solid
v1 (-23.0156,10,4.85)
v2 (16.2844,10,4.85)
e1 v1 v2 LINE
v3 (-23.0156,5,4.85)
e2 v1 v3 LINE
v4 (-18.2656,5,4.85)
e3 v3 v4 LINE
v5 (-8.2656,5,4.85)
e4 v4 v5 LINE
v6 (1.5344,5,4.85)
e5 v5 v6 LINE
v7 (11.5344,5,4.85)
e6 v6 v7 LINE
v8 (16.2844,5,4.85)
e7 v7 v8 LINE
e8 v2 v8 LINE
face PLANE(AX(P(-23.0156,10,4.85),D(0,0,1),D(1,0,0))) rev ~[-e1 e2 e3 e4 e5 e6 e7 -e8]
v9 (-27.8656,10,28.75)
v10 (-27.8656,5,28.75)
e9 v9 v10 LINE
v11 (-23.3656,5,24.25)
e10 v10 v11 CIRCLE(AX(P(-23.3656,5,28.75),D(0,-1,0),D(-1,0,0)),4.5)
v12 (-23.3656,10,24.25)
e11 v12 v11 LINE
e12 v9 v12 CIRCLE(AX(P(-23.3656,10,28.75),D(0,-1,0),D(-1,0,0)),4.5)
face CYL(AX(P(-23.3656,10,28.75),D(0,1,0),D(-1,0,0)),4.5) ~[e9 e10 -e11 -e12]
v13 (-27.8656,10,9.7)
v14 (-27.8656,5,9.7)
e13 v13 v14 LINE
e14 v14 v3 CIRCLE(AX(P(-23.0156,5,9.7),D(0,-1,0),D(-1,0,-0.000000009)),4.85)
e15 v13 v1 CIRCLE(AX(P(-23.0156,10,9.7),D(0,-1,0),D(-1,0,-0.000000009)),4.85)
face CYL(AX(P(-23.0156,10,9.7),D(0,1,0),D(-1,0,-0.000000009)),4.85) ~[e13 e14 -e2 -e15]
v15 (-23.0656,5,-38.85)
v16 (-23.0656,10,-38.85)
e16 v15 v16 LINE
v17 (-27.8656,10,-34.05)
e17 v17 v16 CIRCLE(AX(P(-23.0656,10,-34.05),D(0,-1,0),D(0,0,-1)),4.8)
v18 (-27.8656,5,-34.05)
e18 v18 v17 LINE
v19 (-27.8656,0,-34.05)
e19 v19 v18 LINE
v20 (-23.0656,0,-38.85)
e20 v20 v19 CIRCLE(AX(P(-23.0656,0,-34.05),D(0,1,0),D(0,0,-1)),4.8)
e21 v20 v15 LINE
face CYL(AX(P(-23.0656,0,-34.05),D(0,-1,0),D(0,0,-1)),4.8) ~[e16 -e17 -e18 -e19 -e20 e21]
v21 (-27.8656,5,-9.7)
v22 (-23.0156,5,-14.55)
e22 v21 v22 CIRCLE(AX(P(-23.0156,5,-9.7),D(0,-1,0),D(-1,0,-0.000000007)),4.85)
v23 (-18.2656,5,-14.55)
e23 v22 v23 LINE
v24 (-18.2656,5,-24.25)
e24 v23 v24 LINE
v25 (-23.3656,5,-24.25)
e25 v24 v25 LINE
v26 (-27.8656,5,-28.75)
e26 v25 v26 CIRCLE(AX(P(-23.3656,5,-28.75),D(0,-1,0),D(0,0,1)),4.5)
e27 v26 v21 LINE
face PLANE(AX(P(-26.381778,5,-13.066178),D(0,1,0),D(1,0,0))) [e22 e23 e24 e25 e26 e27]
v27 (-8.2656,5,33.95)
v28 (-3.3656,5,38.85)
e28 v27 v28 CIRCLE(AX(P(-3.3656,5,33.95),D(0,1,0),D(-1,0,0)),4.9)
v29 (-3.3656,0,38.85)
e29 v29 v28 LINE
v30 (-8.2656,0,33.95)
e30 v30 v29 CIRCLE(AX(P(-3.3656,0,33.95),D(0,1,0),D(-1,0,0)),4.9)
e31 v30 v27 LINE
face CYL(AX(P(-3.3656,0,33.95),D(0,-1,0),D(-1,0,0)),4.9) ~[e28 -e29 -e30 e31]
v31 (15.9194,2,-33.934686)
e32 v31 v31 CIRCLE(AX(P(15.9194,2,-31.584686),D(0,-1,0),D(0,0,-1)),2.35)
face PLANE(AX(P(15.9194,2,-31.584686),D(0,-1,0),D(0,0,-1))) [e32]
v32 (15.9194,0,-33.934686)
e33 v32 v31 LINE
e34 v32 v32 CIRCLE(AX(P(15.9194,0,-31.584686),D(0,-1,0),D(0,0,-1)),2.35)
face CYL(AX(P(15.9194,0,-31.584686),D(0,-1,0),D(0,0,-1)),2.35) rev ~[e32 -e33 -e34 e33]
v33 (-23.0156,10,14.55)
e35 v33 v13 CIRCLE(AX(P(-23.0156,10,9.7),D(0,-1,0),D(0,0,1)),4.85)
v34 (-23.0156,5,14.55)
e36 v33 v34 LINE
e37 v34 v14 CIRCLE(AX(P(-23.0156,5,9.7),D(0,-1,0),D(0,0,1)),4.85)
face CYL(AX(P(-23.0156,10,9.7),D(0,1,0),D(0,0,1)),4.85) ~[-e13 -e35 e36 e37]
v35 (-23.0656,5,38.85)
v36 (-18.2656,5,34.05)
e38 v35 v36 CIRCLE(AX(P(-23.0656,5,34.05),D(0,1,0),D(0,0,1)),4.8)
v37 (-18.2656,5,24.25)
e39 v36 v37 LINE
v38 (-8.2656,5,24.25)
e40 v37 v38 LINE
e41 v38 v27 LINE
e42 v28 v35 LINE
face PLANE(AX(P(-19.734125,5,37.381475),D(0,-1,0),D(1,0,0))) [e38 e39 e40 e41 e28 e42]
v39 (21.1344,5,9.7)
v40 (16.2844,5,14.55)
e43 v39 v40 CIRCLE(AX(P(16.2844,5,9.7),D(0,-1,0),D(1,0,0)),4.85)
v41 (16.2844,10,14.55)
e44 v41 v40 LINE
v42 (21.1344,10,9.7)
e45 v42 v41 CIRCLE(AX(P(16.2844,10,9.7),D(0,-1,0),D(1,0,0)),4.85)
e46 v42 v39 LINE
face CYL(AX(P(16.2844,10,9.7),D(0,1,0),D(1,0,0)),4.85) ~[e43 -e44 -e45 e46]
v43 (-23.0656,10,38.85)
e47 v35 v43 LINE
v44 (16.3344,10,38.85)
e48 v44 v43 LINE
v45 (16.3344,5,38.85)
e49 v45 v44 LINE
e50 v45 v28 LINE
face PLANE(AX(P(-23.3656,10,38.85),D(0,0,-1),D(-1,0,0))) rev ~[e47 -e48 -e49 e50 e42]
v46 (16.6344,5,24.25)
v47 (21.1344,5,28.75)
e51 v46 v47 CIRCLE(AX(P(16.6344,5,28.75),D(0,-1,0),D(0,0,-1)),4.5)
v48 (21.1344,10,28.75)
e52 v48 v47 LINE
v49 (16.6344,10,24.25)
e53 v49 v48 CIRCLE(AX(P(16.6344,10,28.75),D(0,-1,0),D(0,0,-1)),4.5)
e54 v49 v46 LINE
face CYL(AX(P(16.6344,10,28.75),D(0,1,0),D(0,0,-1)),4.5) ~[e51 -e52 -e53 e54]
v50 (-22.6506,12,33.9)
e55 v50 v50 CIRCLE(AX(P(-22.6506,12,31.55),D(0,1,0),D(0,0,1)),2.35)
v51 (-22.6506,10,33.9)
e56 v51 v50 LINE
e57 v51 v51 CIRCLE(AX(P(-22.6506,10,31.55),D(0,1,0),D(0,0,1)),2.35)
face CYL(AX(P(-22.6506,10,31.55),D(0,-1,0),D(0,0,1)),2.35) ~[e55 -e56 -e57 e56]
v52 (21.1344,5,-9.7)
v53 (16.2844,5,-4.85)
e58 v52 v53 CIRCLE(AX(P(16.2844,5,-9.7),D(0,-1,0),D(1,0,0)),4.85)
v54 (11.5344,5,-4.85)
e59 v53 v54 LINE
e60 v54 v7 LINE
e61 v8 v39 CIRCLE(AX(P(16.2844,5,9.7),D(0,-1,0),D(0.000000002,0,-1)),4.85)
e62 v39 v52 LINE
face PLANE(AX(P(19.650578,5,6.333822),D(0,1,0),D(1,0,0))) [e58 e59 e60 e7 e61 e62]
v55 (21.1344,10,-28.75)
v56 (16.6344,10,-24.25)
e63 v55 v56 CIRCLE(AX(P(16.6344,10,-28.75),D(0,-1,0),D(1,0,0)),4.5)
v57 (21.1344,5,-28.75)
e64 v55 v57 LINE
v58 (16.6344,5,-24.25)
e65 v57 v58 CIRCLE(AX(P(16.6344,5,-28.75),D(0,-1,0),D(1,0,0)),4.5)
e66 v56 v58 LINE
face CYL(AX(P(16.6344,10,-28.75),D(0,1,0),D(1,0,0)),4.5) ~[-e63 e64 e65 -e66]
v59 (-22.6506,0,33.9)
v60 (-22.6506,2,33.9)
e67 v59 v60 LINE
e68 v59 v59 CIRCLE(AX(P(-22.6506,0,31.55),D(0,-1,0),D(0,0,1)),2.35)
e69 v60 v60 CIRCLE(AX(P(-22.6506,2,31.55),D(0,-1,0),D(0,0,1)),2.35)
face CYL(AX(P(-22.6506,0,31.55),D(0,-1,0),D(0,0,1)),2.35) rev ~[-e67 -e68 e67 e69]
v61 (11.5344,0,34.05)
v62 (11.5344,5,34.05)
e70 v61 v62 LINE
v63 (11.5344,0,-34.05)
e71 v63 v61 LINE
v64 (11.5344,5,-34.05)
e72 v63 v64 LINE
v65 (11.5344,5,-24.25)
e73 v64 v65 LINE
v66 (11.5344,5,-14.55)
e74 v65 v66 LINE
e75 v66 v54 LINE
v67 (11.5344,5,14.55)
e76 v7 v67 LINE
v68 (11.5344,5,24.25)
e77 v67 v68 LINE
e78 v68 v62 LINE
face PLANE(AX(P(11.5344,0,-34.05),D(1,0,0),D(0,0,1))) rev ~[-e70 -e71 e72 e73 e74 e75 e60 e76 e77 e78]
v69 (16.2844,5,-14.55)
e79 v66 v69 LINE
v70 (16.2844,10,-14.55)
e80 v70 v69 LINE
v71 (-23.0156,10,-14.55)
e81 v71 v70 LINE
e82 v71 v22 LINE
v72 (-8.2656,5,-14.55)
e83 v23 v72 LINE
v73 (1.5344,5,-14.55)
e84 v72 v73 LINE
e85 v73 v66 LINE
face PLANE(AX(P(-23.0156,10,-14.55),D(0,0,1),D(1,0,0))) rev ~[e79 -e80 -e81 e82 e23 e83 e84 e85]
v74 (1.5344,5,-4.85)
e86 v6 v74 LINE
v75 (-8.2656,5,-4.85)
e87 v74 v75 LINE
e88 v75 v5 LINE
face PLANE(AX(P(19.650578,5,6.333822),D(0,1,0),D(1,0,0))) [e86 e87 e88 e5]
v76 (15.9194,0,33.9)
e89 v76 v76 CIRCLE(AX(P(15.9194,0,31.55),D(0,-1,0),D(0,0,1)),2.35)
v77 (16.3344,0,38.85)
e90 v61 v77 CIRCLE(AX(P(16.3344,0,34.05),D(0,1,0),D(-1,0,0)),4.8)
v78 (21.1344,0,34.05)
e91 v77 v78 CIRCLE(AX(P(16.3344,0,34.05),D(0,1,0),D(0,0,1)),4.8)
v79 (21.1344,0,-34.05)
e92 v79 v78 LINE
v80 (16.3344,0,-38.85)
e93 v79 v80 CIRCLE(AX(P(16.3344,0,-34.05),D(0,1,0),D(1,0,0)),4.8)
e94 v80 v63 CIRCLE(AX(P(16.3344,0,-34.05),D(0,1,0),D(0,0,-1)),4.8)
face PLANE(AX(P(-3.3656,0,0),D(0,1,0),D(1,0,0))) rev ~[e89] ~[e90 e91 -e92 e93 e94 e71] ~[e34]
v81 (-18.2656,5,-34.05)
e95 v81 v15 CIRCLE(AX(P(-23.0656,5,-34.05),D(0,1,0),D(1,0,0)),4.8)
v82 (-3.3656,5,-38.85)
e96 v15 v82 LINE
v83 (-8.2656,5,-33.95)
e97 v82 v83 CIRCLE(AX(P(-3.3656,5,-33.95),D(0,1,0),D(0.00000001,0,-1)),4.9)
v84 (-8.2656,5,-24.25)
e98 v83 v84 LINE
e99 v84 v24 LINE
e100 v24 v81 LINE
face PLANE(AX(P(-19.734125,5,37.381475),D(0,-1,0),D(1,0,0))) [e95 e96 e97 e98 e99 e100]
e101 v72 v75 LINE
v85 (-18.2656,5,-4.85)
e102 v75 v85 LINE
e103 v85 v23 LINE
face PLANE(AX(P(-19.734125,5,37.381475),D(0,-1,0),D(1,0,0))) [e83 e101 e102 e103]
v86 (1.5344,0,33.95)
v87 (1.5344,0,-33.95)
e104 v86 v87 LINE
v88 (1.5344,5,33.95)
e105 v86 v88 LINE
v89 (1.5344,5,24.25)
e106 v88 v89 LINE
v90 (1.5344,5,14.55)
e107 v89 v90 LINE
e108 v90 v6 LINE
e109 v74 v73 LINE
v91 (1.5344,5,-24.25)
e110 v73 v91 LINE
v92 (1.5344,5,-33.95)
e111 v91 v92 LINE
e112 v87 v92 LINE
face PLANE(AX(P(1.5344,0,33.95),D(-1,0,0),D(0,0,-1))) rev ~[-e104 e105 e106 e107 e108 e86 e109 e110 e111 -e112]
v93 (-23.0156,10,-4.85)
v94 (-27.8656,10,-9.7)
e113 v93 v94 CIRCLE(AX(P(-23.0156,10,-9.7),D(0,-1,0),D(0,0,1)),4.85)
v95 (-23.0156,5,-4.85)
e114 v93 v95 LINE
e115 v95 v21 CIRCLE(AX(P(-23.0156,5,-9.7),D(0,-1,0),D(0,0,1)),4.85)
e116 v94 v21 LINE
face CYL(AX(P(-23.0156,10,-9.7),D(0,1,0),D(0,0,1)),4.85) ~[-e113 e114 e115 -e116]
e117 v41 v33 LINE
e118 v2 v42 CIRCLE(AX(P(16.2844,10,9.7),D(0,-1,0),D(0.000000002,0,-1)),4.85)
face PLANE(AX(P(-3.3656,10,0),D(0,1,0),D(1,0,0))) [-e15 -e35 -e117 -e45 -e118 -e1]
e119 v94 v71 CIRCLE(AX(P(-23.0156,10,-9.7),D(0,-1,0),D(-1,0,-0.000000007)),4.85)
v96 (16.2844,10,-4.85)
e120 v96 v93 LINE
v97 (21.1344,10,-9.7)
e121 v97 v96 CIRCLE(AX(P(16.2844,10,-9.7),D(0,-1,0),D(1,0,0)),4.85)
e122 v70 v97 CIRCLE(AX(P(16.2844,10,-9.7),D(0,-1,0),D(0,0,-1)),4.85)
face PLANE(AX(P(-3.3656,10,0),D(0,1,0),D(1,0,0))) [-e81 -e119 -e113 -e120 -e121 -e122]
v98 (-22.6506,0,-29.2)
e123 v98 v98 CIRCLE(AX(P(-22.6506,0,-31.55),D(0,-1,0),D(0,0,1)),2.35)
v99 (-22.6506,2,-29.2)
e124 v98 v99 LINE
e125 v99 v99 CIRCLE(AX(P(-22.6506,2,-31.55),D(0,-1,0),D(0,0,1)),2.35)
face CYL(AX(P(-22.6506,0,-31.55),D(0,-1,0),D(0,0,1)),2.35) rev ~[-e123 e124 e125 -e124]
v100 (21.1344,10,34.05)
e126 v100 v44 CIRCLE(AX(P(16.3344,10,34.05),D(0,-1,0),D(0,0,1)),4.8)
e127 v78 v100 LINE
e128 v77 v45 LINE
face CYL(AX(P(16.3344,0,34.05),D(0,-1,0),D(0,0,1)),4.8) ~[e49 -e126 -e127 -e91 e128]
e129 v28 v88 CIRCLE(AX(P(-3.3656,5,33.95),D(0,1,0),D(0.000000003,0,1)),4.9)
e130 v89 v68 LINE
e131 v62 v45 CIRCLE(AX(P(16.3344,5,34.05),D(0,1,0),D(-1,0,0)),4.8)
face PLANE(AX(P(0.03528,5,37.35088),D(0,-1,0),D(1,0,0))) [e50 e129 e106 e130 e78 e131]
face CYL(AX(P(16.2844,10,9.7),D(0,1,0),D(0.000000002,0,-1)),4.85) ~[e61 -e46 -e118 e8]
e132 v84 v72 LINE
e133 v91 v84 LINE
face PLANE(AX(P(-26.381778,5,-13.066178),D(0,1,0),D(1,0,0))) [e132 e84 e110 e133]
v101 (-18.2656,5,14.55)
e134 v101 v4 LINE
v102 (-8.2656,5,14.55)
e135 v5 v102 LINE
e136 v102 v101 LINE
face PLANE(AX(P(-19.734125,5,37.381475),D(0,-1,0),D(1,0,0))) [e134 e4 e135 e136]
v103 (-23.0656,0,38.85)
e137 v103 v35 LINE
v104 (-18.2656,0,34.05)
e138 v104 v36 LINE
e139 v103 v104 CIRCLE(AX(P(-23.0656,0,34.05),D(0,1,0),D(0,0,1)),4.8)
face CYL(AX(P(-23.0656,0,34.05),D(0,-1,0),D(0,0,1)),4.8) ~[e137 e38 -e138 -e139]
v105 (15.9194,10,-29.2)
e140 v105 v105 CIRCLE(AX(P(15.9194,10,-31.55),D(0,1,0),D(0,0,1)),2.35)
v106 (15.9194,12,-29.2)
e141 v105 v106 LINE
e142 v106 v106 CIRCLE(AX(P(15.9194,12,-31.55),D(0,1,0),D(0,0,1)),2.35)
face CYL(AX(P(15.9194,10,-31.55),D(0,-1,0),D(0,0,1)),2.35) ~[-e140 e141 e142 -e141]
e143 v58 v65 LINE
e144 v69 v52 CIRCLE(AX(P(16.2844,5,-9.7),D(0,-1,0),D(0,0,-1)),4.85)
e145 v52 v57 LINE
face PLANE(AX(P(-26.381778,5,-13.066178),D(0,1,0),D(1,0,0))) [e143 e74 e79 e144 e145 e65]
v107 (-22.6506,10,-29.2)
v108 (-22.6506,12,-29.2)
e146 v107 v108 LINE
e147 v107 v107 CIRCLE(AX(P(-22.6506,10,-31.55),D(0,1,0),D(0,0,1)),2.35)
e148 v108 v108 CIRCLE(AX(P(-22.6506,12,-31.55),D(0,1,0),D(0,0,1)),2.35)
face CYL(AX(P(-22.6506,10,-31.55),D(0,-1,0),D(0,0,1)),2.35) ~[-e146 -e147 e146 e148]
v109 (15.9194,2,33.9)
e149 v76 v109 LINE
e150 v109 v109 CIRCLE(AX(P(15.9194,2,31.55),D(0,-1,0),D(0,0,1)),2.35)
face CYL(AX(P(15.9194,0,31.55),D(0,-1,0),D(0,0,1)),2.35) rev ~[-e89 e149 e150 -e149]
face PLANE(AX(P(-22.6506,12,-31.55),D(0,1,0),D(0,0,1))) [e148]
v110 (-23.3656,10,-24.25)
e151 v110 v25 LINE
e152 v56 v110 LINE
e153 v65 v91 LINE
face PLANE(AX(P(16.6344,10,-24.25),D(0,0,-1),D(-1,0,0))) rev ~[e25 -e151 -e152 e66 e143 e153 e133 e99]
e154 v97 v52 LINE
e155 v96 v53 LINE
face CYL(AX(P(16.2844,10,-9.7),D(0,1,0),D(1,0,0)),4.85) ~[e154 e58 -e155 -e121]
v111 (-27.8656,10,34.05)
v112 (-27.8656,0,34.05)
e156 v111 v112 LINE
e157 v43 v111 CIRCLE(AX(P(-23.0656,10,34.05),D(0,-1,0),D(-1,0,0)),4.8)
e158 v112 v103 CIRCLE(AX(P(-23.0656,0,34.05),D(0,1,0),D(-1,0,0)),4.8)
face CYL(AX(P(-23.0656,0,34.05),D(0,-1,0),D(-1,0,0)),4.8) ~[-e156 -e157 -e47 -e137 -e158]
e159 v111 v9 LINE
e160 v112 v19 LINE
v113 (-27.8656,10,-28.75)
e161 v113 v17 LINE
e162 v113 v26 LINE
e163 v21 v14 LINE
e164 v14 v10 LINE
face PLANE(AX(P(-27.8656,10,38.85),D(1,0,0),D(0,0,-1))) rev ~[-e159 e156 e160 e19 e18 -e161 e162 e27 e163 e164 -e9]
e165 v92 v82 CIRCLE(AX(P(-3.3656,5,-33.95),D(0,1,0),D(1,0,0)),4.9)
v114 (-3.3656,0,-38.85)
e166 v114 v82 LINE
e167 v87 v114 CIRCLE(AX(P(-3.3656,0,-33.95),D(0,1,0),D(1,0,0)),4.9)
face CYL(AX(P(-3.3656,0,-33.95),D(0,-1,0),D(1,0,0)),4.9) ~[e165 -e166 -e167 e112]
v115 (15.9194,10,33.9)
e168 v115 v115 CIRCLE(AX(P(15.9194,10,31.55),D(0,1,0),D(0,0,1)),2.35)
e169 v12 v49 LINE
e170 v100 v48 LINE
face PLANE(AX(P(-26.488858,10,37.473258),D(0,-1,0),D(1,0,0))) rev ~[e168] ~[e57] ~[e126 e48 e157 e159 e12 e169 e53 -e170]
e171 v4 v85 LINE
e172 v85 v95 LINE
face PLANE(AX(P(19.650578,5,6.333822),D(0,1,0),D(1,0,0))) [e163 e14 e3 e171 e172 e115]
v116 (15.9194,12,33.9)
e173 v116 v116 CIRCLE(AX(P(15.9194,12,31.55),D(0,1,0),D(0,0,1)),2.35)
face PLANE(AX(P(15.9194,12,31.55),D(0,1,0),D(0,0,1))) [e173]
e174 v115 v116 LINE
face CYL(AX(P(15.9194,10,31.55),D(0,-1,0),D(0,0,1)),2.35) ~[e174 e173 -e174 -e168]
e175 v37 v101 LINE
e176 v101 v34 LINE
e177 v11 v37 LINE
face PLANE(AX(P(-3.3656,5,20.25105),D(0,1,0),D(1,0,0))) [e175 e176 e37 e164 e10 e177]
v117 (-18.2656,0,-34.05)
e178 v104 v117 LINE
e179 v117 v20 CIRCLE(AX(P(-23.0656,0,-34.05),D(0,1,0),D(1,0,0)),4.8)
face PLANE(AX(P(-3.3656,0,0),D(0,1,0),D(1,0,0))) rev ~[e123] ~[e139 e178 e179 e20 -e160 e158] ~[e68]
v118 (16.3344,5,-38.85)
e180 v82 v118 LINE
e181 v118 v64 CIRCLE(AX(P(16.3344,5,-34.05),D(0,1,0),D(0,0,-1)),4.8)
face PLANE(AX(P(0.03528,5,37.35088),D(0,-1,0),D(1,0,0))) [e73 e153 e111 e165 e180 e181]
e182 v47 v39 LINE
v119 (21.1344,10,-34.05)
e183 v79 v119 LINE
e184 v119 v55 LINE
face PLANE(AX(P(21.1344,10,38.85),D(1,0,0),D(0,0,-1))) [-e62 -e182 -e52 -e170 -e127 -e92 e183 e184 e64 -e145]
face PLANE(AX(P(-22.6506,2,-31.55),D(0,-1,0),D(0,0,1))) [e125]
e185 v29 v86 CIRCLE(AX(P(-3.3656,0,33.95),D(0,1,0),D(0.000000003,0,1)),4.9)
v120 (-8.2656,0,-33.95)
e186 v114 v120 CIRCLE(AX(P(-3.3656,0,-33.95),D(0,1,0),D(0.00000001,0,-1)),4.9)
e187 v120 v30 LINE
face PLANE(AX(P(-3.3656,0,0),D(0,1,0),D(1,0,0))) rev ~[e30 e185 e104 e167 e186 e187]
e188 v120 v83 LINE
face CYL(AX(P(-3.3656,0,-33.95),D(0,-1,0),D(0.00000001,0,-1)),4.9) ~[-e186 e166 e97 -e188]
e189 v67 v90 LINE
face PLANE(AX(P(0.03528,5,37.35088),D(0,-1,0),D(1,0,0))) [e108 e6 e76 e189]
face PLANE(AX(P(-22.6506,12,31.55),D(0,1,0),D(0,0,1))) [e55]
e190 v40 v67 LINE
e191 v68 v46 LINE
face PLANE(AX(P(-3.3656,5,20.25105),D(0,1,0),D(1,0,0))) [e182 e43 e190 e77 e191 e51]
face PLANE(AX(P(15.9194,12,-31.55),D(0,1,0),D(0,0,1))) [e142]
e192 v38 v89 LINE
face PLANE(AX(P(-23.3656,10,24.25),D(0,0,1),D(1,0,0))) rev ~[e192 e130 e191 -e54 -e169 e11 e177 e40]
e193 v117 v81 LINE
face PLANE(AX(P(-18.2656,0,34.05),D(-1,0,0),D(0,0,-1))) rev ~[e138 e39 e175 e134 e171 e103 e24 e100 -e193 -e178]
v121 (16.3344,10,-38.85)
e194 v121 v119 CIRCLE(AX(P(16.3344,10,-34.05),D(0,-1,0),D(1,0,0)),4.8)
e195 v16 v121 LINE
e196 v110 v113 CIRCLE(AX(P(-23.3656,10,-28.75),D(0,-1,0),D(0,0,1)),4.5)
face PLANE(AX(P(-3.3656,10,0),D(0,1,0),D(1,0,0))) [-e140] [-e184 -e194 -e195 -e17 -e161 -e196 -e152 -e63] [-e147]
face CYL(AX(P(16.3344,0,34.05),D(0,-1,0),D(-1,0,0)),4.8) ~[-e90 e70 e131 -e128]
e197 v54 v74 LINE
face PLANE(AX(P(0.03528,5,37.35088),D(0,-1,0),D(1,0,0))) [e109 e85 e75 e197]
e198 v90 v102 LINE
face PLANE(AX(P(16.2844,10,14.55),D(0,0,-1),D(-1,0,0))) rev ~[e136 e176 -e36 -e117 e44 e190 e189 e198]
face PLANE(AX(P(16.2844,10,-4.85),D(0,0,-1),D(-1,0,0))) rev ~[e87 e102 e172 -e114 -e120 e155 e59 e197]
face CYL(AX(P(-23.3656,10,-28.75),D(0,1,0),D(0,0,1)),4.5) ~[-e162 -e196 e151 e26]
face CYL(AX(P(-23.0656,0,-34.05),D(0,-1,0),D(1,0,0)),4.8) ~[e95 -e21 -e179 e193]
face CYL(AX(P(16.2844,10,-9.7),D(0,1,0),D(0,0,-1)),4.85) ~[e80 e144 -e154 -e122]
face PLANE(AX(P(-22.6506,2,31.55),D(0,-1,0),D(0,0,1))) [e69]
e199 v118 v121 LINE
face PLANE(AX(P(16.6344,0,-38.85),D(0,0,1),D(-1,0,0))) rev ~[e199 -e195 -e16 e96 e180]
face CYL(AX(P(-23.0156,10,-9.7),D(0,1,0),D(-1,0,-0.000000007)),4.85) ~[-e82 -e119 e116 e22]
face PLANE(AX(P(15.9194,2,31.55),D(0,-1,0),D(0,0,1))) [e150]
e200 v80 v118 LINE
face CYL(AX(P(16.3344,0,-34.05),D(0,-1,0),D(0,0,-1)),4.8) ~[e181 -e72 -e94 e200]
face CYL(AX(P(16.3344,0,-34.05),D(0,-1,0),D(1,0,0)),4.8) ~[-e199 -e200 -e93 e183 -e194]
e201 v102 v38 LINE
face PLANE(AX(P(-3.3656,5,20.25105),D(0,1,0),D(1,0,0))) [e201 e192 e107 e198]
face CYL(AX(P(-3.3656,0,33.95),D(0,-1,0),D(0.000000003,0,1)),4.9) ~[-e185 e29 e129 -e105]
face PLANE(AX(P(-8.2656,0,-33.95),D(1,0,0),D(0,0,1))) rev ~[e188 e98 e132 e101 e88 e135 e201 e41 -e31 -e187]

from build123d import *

# Parameters (mm, degrees)
BOSS_EXTRUDE1_DEPTH      = 10
CUT_EXTRUDE3_DEPTH       = 5
BOSS_EXTRUDE6_DEPTH      = 5
BOSS_EXTRUDE6_DEPTH_BACK = 10
SKETCH5_W                = 4.5
SKETCH5_H                = 5
CUT_EXTRUDE5_DEPTH       = 60
CUT_EXTRUDE7_DEPTH       = 5
CUT_EXTRUDE9_DEPTH       = 14
SKETCH9_R                = 2.35
BOSS_EXTRUDE7_DEPTH      = 2
SKETCH12_R               = 2.35
CUT_EXTRUDE10_DEPTH      = 2


with BuildPart() as part:
    # Sketch1 → Boss-Extrude1 (new body)
    with BuildSketch(Plane(origin=(0, 0, 0), x_dir=(1, 0, 0), z_dir=(0, 1, 0))):
        with BuildLine():
            Line((-23.3656, -38.85), (16.6344, -38.85))
            ThreePointArc((16.6344, -38.85), (19.816380515, -37.531980515), (21.1344, -34.35))
            Line((21.1344, -34.35), (21.1344, 34.35))
            ThreePointArc((21.1344, 34.35), (19.816380515, 37.531980515), (16.6344, 38.85))
            Line((16.6344, 38.85), (-23.3656, 38.85))
            ThreePointArc((-23.3656, 38.85), (-26.547580515, 37.531980515), (-27.8656, 34.35))
            Line((-27.8656, 34.35), (-27.8656, -34.35))
            ThreePointArc((-27.8656, -34.35), (-26.547580515, -37.531980515), (-23.3656, -38.85))
        make_face()
    extrude(amount=BOSS_EXTRUDE1_DEPTH)

    # Sketch2 → Cut-Extrude3 (cut)
    with BuildSketch(Plane(origin=(0, 10, 0), x_dir=(1, 0, 0), z_dir=(0, 1, 0))):
        with BuildLine():
            Line((-23.0156, -14.55), (-27.8656, -14.55))
            Line((-27.8656, -14.55), (-27.8656, -28.75))
            ThreePointArc((-27.8656, -28.75), (-26.547580515, -25.568019485), (-23.3656, -24.25))
            Line((-23.3656, -24.25), (16.6344, -24.25))
            ThreePointArc((16.6344, -24.25), (19.816380515, -25.568019485), (21.1344, -28.75))
            Line((21.1344, -28.75), (21.1344, -14.55))
            Line((21.1344, -14.55), (16.2844, -14.55))
            Line((16.2844, -14.55), (-23.0156, -14.55))
        make_face()
        with BuildLine():
            ThreePointArc((-23.0156, -14.55), (-26.445067903, -13.129467874), (-27.8656, -9.699999958))
            Line((-27.8656, -9.699999958), (-27.8656, -14.55))
            Line((-27.8656, -14.55), (-23.0156, -14.55))
        make_face()
        with BuildLine():
            Line((21.1344, -14.55), (21.1344, -9.7))
            ThreePointArc((21.1344, -9.7), (19.713867889, -13.129467889), (16.2844, -14.55))
            Line((16.2844, -14.55), (21.1344, -14.55))
        make_face()
        with BuildLine():
            Line((21.1344, -9.7), (21.1344, -4.85))
            Line((21.1344, -4.85), (16.28440001, -4.85))
            ThreePointArc((16.28440001, -4.85), (19.713867892, -6.270532115), (21.1344, -9.7))
        make_face()
        with BuildLine():
            Line((-23.0156, -4.85), (-27.8656, -4.85))
            Line((-27.8656, -4.85), (-27.8656, -9.699999958))
            ThreePointArc((-27.8656, -9.699999958), (-26.445067874, -6.270532097), (-23.0156, -4.85))
        make_face()
        Polygon((-23.0156, 4.85), (-27.8656, 4.85), (-27.8656, -4.85), (-23.0156, -4.85), (16.28440001, -4.85), (21.1344, -4.85), (21.1344, 4.85), (16.284399974, 4.85), align=None)
        with BuildLine():
            ThreePointArc((-23.0156, 4.85), (-26.445067902, 6.270532124), (-27.8656, 9.700000036))
            Line((-27.8656, 9.700000036), (-27.8656, 4.85))
            Line((-27.8656, 4.85), (-23.0156, 4.85))
        make_face()
        with BuildLine():
            Line((21.1344, 4.85), (21.1344, 9.7))
            ThreePointArc((21.1344, 9.7), (19.71386788, 6.270532102), (16.284399974, 4.85))
            Line((16.284399974, 4.85), (21.1344, 4.85))
        make_face()
        with BuildLine():
            Line((-23.015600011, 14.55), (-27.8656, 14.55))
            Line((-27.8656, 14.55), (-27.8656, 9.700000036))
            ThreePointArc((-27.8656, 9.700000036), (-26.44506788, 13.129467898), (-23.015600011, 14.55))
        make_face()
        with BuildLine():
            Line((16.6344, 24.25), (-23.3656, 24.25))
            ThreePointArc((-23.3656, 24.25), (-26.547580515, 25.568019485), (-27.8656, 28.75))
            Line((-27.8656, 28.75), (-27.8656, 14.55))
            Line((-27.8656, 14.55), (-23.015600011, 14.55))
            Line((-23.015600011, 14.55), (16.2844, 14.55))
            Line((16.2844, 14.55), (21.1344, 14.55))
            Line((21.1344, 14.55), (21.1344, 28.75))
            ThreePointArc((21.1344, 28.75), (19.816380515, 25.568019485), (16.6344, 24.25))
        make_face()
        with BuildLine():
            Line((21.1344, 9.7), (21.1344, 14.55))
            Line((21.1344, 14.55), (16.2844, 14.55))
            ThreePointArc((16.2844, 14.55), (19.713867889, 13.129467889), (21.1344, 9.7))
        make_face()
    extrude(amount=-CUT_EXTRUDE3_DEPTH, mode=Mode.SUBTRACT)

    # Sketch4 → Boss-Extrude6 (add, two sides: drawn at the far end of the back side and taken through both)
    with BuildSketch(Plane.XZ.offset(-BOSS_EXTRUDE6_DEPTH_BACK)):
        with BuildLine():
            ThreePointArc((-27.8656, 34.35), (-26.547580515, 37.531980515), (-23.3656, 38.85))
            Line((-23.3656, 38.85), (-27.8656, 38.85))
            Line((-27.8656, 38.85), (-27.8656, 34.35))
        make_face()
        with BuildLine():
            Line((-23.3656, 35.615611346), (-23.3656, 38.85))
            ThreePointArc((-23.3656, 38.85), (-26.547580515, 37.531980515), (-27.8656, 34.35))
            Line((-27.8656, 34.35), (-27.8656, 34.176611106))
            Line((-27.8656, 34.176611106), (-23.3656, 35.615611346))
        make_face()
        with BuildLine():
            Line((17.428758808, 36.847416441), (16.6344, 38.85))
            ThreePointArc((16.6344, 38.85), (19.816380515, 37.531980515), (21.1344, 34.35))
            Line((21.1344, 34.35), (17.428758808, 36.847416441))
        make_face()
        with BuildLine():
            Line((21.1344, 38.85), (21.1344, 34.35))
            ThreePointArc((21.1344, 34.35), (19.816380515, 37.531980515), (16.6344, 38.85))
            Line((16.6344, 38.85), (21.1344, 38.85))
        make_face()
        with BuildLine():
            Line((16.6344, -34.745010915), (21.1344, -34.35))
            ThreePointArc((21.1344, -34.35), (19.816380515, -37.531980515), (16.6344, -38.85))
            Line((16.6344, -38.85), (16.6344, -34.745010915))
        make_face()
        with BuildLine():
            Line((16.6344, -38.85), (21.1344, -38.85))
            Line((21.1344, -38.85), (21.1344, -34.35))
            ThreePointArc((21.1344, -34.35), (19.816380515, -37.531980515), (16.6344, -38.85))
        make_face()
        with BuildLine():
            Line((-23.3656, -38.85), (-23.156696732, -35.585785164))
            Line((-23.156696732, -35.585785164), (-27.8656, -34.35))
            ThreePointArc((-27.8656, -34.35), (-26.547580515, -37.531980515), (-23.3656, -38.85))
        make_face()
        with BuildLine():
            Line((-27.8656, -34.35), (-27.8656, -38.85))
            Line((-27.8656, -38.85), (-23.3656, -38.85))
            ThreePointArc((-23.3656, -38.85), (-26.547580515, -37.531980515), (-27.8656, -34.35))
        make_face()
    extrude(amount=BOSS_EXTRUDE6_DEPTH + BOSS_EXTRUDE6_DEPTH_BACK)

    # Sketch5 → Cut-Extrude5 (cut)
    with BuildSketch(Plane(origin=(21.1344, 0, 0), x_dir=(0, 0, -1), z_dir=(1, 0, 0))):
        Polygon((34.35, 0), (-34.35, 0), (-34.35, -5), (-38.85, -5), (-38.85, -11.467862175), (41.584838498, -11.467862175), (41.584838498, 0), (38.85, 0), (38.85, -5), (34.35, -5), align=None)
        with Locations((36.6, -2.5)):
            Rectangle(SKETCH5_W, SKETCH5_H)
        with Locations((-36.6, -2.5)):
            Rectangle(SKETCH5_W, SKETCH5_H)
    extrude(amount=-CUT_EXTRUDE5_DEPTH, mode=Mode.SUBTRACT)

    # Sketch6 → Cut-Extrude7 (cut)
    with BuildSketch(Plane.XZ):
        with BuildLine():
            ThreePointArc((-27.8656, 34.05), (-26.45971255, 37.44411255), (-23.0656, 38.85))
            Line((-23.0656, 38.85), (-27.8656, 38.85))
            Line((-27.8656, 38.85), (-27.8656, 34.05))
        make_face()
        with BuildLine():
            Line((-18.2656, 34.05), (-18.2656, 38.85))
            Line((-18.2656, 38.85), (-23.0656, 38.85))
            ThreePointArc((-23.0656, 38.85), (-19.67148745, 37.44411255), (-18.2656, 34.05))
        make_face()
        Polygon((-8.2656, 38.85), (-18.2656, 38.85), (-18.2656, 34.05), (-18.2656, -34.05), (-18.2656, -38.85), (-8.2656, -38.85), (-8.2656, -33.950000026), (-8.2656, 33.95), align=None)
        with BuildLine():
            Line((-3.365599985, 38.85), (-8.2656, 38.85))
            Line((-8.2656, 38.85), (-8.2656, 33.95))
            ThreePointArc((-8.2656, 33.95), (-6.830423222, 37.414823233), (-3.365599985, 38.85))
        make_face()
        with BuildLine():
            Line((1.5344, 38.85), (-3.365599985, 38.85))
            ThreePointArc((-3.365599985, 38.85), (0.099223233, 37.414823222), (1.5344, 33.95))
            Line((1.5344, 33.95), (1.5344, 38.85))
        make_face()
        Polygon((1.5344, 38.85), (1.5344, 33.95), (1.5344, -33.95), (1.5344, -38.85), (11.5344, -38.85), (11.5344, -34.050000018), (11.5344, 34.05), (11.5344, 38.85), align=None)
        with BuildLine():
            Line((16.3344, 38.85), (11.5344, 38.85))
            Line((11.5344, 38.85), (11.5344, 34.05))
            ThreePointArc((11.5344, 34.05), (12.94028745, 37.44411255), (16.3344, 38.85))
        make_face()
        with BuildLine():
            Line((21.1344, 38.85), (16.3344, 38.85))
            ThreePointArc((16.3344, 38.85), (19.72851255, 37.44411255), (21.1344, 34.05))
            Line((21.1344, 34.05), (21.1344, 38.85))
        make_face()
        with BuildLine():
            ThreePointArc((21.1344, -34.05), (19.72851255, -37.44411255), (16.3344, -38.85))
            Line((16.3344, -38.85), (21.1344, -38.85))
            Line((21.1344, -38.85), (21.1344, -34.05))
        make_face()
        with BuildLine():
            Line((11.5344, -34.050000018), (11.5344, -38.85))
            Line((11.5344, -38.85), (16.3344, -38.85))
            ThreePointArc((16.3344, -38.85), (12.940287457, -37.444112556), (11.5344, -34.050000018))
        make_face()
        with BuildLine():
            Line((1.5344, -38.85), (1.5344, -33.95))
            ThreePointArc((1.5344, -33.95), (0.099223245, -37.414823211), (-3.365599951, -38.85))
            Line((-3.365599951, -38.85), (1.5344, -38.85))
        make_face()
        with BuildLine():
            ThreePointArc((-3.365599951, -38.85), (-6.830423201, -37.414823254), (-8.2656, -33.950000026))
            Line((-8.2656, -33.950000026), (-8.2656, -38.85))
            Line((-8.2656, -38.85), (-3.365599951, -38.85))
        make_face()
        with BuildLine():
            Line((-18.2656, -38.85), (-18.2656, -34.05))
            ThreePointArc((-18.2656, -34.05), (-19.67148745, -37.44411255), (-23.0656, -38.85))
            Line((-23.0656, -38.85), (-18.2656, -38.85))
        make_face()
        with BuildLine():
            ThreePointArc((-23.0656, -38.85), (-26.459712556, -37.444112543), (-27.8656, -34.049999982))
            Line((-27.8656, -34.049999982), (-27.8656, -38.85))
            Line((-27.8656, -38.85), (-23.0656, -38.85))
        make_face()
    extrude(amount=-CUT_EXTRUDE7_DEPTH, mode=Mode.SUBTRACT)

    # Sketch8 → Cut-Extrude9 (cut)
    with BuildSketch(Plane.XZ):
        with BuildLine():
            Line((-27.8656, 38.85), (-27.8656, 34.05))
            ThreePointArc((-27.8656, 34.05), (-26.45971255, 37.44411255), (-23.0656, 38.85))
            Line((-23.0656, 38.85), (-27.8656, 38.85))
        make_face()
        with BuildLine():
            Line((21.1344, 34.05), (21.1344, 38.85))
            Line((21.1344, 38.85), (16.3344, 38.85))
            ThreePointArc((16.3344, 38.85), (19.72851255, 37.44411255), (21.1344, 34.05))
        make_face()
        with BuildLine():
            Line((16.3344, -38.85), (21.1344, -38.85))
            Line((21.1344, -38.85), (21.1344, -34.05))
            ThreePointArc((21.1344, -34.05), (19.72851255, -37.44411255), (16.3344, -38.85))
        make_face()
        with BuildLine():
            Line((-27.8656, -34.05), (-27.8656, -38.85))
            Line((-27.8656, -38.85), (-23.0656, -38.85))
            ThreePointArc((-23.0656, -38.85), (-26.45971255, -37.44411255), (-27.8656, -34.05))
        make_face()
    extrude(amount=-CUT_EXTRUDE9_DEPTH, mode=Mode.SUBTRACT)

    # Sketch9 → Boss-Extrude7 (add)
    with BuildSketch(Plane(origin=(0, 10, 0), x_dir=(1, 0, 0), z_dir=(0, 1, 0))):
        with Locations(Location((-22.6506, 31.55, 0), (0, 0, 270))):
            Circle(SKETCH9_R)
        with Locations(Location((15.9194, 31.55, 0), (0, 0, 270))):
            Circle(SKETCH9_R)
        with Locations(Location((-22.6506, -31.55, 0), (0, 0, 270))):
            Circle(SKETCH9_R)
        with Locations(Location((15.9194, -31.55, 0), (0, 0, 270))):
            Circle(SKETCH9_R)
    extrude(amount=BOSS_EXTRUDE7_DEPTH)

    # Sketch12 → Cut-Extrude10 (cut)
    with BuildSketch(Plane.XZ):
        with Locations(Location((15.9194, 31.55, 0), (0, 0, 90))):
            Circle(SKETCH12_R)
        with Locations(Location((-22.6506, -31.55, 0), (0, 0, 90))):
            Circle(SKETCH12_R)
        with Locations(Location((-22.6506, 31.55, 0), (0, 0, 90))):
            Circle(SKETCH12_R)
        with Locations(Location((15.9194, -31.584685618, 0), (0, 0, 270))):
            Circle(SKETCH12_R)
    extrude(amount=-CUT_EXTRUDE10_DEPTH, mode=Mode.SUBTRACT)


solid = part.part
